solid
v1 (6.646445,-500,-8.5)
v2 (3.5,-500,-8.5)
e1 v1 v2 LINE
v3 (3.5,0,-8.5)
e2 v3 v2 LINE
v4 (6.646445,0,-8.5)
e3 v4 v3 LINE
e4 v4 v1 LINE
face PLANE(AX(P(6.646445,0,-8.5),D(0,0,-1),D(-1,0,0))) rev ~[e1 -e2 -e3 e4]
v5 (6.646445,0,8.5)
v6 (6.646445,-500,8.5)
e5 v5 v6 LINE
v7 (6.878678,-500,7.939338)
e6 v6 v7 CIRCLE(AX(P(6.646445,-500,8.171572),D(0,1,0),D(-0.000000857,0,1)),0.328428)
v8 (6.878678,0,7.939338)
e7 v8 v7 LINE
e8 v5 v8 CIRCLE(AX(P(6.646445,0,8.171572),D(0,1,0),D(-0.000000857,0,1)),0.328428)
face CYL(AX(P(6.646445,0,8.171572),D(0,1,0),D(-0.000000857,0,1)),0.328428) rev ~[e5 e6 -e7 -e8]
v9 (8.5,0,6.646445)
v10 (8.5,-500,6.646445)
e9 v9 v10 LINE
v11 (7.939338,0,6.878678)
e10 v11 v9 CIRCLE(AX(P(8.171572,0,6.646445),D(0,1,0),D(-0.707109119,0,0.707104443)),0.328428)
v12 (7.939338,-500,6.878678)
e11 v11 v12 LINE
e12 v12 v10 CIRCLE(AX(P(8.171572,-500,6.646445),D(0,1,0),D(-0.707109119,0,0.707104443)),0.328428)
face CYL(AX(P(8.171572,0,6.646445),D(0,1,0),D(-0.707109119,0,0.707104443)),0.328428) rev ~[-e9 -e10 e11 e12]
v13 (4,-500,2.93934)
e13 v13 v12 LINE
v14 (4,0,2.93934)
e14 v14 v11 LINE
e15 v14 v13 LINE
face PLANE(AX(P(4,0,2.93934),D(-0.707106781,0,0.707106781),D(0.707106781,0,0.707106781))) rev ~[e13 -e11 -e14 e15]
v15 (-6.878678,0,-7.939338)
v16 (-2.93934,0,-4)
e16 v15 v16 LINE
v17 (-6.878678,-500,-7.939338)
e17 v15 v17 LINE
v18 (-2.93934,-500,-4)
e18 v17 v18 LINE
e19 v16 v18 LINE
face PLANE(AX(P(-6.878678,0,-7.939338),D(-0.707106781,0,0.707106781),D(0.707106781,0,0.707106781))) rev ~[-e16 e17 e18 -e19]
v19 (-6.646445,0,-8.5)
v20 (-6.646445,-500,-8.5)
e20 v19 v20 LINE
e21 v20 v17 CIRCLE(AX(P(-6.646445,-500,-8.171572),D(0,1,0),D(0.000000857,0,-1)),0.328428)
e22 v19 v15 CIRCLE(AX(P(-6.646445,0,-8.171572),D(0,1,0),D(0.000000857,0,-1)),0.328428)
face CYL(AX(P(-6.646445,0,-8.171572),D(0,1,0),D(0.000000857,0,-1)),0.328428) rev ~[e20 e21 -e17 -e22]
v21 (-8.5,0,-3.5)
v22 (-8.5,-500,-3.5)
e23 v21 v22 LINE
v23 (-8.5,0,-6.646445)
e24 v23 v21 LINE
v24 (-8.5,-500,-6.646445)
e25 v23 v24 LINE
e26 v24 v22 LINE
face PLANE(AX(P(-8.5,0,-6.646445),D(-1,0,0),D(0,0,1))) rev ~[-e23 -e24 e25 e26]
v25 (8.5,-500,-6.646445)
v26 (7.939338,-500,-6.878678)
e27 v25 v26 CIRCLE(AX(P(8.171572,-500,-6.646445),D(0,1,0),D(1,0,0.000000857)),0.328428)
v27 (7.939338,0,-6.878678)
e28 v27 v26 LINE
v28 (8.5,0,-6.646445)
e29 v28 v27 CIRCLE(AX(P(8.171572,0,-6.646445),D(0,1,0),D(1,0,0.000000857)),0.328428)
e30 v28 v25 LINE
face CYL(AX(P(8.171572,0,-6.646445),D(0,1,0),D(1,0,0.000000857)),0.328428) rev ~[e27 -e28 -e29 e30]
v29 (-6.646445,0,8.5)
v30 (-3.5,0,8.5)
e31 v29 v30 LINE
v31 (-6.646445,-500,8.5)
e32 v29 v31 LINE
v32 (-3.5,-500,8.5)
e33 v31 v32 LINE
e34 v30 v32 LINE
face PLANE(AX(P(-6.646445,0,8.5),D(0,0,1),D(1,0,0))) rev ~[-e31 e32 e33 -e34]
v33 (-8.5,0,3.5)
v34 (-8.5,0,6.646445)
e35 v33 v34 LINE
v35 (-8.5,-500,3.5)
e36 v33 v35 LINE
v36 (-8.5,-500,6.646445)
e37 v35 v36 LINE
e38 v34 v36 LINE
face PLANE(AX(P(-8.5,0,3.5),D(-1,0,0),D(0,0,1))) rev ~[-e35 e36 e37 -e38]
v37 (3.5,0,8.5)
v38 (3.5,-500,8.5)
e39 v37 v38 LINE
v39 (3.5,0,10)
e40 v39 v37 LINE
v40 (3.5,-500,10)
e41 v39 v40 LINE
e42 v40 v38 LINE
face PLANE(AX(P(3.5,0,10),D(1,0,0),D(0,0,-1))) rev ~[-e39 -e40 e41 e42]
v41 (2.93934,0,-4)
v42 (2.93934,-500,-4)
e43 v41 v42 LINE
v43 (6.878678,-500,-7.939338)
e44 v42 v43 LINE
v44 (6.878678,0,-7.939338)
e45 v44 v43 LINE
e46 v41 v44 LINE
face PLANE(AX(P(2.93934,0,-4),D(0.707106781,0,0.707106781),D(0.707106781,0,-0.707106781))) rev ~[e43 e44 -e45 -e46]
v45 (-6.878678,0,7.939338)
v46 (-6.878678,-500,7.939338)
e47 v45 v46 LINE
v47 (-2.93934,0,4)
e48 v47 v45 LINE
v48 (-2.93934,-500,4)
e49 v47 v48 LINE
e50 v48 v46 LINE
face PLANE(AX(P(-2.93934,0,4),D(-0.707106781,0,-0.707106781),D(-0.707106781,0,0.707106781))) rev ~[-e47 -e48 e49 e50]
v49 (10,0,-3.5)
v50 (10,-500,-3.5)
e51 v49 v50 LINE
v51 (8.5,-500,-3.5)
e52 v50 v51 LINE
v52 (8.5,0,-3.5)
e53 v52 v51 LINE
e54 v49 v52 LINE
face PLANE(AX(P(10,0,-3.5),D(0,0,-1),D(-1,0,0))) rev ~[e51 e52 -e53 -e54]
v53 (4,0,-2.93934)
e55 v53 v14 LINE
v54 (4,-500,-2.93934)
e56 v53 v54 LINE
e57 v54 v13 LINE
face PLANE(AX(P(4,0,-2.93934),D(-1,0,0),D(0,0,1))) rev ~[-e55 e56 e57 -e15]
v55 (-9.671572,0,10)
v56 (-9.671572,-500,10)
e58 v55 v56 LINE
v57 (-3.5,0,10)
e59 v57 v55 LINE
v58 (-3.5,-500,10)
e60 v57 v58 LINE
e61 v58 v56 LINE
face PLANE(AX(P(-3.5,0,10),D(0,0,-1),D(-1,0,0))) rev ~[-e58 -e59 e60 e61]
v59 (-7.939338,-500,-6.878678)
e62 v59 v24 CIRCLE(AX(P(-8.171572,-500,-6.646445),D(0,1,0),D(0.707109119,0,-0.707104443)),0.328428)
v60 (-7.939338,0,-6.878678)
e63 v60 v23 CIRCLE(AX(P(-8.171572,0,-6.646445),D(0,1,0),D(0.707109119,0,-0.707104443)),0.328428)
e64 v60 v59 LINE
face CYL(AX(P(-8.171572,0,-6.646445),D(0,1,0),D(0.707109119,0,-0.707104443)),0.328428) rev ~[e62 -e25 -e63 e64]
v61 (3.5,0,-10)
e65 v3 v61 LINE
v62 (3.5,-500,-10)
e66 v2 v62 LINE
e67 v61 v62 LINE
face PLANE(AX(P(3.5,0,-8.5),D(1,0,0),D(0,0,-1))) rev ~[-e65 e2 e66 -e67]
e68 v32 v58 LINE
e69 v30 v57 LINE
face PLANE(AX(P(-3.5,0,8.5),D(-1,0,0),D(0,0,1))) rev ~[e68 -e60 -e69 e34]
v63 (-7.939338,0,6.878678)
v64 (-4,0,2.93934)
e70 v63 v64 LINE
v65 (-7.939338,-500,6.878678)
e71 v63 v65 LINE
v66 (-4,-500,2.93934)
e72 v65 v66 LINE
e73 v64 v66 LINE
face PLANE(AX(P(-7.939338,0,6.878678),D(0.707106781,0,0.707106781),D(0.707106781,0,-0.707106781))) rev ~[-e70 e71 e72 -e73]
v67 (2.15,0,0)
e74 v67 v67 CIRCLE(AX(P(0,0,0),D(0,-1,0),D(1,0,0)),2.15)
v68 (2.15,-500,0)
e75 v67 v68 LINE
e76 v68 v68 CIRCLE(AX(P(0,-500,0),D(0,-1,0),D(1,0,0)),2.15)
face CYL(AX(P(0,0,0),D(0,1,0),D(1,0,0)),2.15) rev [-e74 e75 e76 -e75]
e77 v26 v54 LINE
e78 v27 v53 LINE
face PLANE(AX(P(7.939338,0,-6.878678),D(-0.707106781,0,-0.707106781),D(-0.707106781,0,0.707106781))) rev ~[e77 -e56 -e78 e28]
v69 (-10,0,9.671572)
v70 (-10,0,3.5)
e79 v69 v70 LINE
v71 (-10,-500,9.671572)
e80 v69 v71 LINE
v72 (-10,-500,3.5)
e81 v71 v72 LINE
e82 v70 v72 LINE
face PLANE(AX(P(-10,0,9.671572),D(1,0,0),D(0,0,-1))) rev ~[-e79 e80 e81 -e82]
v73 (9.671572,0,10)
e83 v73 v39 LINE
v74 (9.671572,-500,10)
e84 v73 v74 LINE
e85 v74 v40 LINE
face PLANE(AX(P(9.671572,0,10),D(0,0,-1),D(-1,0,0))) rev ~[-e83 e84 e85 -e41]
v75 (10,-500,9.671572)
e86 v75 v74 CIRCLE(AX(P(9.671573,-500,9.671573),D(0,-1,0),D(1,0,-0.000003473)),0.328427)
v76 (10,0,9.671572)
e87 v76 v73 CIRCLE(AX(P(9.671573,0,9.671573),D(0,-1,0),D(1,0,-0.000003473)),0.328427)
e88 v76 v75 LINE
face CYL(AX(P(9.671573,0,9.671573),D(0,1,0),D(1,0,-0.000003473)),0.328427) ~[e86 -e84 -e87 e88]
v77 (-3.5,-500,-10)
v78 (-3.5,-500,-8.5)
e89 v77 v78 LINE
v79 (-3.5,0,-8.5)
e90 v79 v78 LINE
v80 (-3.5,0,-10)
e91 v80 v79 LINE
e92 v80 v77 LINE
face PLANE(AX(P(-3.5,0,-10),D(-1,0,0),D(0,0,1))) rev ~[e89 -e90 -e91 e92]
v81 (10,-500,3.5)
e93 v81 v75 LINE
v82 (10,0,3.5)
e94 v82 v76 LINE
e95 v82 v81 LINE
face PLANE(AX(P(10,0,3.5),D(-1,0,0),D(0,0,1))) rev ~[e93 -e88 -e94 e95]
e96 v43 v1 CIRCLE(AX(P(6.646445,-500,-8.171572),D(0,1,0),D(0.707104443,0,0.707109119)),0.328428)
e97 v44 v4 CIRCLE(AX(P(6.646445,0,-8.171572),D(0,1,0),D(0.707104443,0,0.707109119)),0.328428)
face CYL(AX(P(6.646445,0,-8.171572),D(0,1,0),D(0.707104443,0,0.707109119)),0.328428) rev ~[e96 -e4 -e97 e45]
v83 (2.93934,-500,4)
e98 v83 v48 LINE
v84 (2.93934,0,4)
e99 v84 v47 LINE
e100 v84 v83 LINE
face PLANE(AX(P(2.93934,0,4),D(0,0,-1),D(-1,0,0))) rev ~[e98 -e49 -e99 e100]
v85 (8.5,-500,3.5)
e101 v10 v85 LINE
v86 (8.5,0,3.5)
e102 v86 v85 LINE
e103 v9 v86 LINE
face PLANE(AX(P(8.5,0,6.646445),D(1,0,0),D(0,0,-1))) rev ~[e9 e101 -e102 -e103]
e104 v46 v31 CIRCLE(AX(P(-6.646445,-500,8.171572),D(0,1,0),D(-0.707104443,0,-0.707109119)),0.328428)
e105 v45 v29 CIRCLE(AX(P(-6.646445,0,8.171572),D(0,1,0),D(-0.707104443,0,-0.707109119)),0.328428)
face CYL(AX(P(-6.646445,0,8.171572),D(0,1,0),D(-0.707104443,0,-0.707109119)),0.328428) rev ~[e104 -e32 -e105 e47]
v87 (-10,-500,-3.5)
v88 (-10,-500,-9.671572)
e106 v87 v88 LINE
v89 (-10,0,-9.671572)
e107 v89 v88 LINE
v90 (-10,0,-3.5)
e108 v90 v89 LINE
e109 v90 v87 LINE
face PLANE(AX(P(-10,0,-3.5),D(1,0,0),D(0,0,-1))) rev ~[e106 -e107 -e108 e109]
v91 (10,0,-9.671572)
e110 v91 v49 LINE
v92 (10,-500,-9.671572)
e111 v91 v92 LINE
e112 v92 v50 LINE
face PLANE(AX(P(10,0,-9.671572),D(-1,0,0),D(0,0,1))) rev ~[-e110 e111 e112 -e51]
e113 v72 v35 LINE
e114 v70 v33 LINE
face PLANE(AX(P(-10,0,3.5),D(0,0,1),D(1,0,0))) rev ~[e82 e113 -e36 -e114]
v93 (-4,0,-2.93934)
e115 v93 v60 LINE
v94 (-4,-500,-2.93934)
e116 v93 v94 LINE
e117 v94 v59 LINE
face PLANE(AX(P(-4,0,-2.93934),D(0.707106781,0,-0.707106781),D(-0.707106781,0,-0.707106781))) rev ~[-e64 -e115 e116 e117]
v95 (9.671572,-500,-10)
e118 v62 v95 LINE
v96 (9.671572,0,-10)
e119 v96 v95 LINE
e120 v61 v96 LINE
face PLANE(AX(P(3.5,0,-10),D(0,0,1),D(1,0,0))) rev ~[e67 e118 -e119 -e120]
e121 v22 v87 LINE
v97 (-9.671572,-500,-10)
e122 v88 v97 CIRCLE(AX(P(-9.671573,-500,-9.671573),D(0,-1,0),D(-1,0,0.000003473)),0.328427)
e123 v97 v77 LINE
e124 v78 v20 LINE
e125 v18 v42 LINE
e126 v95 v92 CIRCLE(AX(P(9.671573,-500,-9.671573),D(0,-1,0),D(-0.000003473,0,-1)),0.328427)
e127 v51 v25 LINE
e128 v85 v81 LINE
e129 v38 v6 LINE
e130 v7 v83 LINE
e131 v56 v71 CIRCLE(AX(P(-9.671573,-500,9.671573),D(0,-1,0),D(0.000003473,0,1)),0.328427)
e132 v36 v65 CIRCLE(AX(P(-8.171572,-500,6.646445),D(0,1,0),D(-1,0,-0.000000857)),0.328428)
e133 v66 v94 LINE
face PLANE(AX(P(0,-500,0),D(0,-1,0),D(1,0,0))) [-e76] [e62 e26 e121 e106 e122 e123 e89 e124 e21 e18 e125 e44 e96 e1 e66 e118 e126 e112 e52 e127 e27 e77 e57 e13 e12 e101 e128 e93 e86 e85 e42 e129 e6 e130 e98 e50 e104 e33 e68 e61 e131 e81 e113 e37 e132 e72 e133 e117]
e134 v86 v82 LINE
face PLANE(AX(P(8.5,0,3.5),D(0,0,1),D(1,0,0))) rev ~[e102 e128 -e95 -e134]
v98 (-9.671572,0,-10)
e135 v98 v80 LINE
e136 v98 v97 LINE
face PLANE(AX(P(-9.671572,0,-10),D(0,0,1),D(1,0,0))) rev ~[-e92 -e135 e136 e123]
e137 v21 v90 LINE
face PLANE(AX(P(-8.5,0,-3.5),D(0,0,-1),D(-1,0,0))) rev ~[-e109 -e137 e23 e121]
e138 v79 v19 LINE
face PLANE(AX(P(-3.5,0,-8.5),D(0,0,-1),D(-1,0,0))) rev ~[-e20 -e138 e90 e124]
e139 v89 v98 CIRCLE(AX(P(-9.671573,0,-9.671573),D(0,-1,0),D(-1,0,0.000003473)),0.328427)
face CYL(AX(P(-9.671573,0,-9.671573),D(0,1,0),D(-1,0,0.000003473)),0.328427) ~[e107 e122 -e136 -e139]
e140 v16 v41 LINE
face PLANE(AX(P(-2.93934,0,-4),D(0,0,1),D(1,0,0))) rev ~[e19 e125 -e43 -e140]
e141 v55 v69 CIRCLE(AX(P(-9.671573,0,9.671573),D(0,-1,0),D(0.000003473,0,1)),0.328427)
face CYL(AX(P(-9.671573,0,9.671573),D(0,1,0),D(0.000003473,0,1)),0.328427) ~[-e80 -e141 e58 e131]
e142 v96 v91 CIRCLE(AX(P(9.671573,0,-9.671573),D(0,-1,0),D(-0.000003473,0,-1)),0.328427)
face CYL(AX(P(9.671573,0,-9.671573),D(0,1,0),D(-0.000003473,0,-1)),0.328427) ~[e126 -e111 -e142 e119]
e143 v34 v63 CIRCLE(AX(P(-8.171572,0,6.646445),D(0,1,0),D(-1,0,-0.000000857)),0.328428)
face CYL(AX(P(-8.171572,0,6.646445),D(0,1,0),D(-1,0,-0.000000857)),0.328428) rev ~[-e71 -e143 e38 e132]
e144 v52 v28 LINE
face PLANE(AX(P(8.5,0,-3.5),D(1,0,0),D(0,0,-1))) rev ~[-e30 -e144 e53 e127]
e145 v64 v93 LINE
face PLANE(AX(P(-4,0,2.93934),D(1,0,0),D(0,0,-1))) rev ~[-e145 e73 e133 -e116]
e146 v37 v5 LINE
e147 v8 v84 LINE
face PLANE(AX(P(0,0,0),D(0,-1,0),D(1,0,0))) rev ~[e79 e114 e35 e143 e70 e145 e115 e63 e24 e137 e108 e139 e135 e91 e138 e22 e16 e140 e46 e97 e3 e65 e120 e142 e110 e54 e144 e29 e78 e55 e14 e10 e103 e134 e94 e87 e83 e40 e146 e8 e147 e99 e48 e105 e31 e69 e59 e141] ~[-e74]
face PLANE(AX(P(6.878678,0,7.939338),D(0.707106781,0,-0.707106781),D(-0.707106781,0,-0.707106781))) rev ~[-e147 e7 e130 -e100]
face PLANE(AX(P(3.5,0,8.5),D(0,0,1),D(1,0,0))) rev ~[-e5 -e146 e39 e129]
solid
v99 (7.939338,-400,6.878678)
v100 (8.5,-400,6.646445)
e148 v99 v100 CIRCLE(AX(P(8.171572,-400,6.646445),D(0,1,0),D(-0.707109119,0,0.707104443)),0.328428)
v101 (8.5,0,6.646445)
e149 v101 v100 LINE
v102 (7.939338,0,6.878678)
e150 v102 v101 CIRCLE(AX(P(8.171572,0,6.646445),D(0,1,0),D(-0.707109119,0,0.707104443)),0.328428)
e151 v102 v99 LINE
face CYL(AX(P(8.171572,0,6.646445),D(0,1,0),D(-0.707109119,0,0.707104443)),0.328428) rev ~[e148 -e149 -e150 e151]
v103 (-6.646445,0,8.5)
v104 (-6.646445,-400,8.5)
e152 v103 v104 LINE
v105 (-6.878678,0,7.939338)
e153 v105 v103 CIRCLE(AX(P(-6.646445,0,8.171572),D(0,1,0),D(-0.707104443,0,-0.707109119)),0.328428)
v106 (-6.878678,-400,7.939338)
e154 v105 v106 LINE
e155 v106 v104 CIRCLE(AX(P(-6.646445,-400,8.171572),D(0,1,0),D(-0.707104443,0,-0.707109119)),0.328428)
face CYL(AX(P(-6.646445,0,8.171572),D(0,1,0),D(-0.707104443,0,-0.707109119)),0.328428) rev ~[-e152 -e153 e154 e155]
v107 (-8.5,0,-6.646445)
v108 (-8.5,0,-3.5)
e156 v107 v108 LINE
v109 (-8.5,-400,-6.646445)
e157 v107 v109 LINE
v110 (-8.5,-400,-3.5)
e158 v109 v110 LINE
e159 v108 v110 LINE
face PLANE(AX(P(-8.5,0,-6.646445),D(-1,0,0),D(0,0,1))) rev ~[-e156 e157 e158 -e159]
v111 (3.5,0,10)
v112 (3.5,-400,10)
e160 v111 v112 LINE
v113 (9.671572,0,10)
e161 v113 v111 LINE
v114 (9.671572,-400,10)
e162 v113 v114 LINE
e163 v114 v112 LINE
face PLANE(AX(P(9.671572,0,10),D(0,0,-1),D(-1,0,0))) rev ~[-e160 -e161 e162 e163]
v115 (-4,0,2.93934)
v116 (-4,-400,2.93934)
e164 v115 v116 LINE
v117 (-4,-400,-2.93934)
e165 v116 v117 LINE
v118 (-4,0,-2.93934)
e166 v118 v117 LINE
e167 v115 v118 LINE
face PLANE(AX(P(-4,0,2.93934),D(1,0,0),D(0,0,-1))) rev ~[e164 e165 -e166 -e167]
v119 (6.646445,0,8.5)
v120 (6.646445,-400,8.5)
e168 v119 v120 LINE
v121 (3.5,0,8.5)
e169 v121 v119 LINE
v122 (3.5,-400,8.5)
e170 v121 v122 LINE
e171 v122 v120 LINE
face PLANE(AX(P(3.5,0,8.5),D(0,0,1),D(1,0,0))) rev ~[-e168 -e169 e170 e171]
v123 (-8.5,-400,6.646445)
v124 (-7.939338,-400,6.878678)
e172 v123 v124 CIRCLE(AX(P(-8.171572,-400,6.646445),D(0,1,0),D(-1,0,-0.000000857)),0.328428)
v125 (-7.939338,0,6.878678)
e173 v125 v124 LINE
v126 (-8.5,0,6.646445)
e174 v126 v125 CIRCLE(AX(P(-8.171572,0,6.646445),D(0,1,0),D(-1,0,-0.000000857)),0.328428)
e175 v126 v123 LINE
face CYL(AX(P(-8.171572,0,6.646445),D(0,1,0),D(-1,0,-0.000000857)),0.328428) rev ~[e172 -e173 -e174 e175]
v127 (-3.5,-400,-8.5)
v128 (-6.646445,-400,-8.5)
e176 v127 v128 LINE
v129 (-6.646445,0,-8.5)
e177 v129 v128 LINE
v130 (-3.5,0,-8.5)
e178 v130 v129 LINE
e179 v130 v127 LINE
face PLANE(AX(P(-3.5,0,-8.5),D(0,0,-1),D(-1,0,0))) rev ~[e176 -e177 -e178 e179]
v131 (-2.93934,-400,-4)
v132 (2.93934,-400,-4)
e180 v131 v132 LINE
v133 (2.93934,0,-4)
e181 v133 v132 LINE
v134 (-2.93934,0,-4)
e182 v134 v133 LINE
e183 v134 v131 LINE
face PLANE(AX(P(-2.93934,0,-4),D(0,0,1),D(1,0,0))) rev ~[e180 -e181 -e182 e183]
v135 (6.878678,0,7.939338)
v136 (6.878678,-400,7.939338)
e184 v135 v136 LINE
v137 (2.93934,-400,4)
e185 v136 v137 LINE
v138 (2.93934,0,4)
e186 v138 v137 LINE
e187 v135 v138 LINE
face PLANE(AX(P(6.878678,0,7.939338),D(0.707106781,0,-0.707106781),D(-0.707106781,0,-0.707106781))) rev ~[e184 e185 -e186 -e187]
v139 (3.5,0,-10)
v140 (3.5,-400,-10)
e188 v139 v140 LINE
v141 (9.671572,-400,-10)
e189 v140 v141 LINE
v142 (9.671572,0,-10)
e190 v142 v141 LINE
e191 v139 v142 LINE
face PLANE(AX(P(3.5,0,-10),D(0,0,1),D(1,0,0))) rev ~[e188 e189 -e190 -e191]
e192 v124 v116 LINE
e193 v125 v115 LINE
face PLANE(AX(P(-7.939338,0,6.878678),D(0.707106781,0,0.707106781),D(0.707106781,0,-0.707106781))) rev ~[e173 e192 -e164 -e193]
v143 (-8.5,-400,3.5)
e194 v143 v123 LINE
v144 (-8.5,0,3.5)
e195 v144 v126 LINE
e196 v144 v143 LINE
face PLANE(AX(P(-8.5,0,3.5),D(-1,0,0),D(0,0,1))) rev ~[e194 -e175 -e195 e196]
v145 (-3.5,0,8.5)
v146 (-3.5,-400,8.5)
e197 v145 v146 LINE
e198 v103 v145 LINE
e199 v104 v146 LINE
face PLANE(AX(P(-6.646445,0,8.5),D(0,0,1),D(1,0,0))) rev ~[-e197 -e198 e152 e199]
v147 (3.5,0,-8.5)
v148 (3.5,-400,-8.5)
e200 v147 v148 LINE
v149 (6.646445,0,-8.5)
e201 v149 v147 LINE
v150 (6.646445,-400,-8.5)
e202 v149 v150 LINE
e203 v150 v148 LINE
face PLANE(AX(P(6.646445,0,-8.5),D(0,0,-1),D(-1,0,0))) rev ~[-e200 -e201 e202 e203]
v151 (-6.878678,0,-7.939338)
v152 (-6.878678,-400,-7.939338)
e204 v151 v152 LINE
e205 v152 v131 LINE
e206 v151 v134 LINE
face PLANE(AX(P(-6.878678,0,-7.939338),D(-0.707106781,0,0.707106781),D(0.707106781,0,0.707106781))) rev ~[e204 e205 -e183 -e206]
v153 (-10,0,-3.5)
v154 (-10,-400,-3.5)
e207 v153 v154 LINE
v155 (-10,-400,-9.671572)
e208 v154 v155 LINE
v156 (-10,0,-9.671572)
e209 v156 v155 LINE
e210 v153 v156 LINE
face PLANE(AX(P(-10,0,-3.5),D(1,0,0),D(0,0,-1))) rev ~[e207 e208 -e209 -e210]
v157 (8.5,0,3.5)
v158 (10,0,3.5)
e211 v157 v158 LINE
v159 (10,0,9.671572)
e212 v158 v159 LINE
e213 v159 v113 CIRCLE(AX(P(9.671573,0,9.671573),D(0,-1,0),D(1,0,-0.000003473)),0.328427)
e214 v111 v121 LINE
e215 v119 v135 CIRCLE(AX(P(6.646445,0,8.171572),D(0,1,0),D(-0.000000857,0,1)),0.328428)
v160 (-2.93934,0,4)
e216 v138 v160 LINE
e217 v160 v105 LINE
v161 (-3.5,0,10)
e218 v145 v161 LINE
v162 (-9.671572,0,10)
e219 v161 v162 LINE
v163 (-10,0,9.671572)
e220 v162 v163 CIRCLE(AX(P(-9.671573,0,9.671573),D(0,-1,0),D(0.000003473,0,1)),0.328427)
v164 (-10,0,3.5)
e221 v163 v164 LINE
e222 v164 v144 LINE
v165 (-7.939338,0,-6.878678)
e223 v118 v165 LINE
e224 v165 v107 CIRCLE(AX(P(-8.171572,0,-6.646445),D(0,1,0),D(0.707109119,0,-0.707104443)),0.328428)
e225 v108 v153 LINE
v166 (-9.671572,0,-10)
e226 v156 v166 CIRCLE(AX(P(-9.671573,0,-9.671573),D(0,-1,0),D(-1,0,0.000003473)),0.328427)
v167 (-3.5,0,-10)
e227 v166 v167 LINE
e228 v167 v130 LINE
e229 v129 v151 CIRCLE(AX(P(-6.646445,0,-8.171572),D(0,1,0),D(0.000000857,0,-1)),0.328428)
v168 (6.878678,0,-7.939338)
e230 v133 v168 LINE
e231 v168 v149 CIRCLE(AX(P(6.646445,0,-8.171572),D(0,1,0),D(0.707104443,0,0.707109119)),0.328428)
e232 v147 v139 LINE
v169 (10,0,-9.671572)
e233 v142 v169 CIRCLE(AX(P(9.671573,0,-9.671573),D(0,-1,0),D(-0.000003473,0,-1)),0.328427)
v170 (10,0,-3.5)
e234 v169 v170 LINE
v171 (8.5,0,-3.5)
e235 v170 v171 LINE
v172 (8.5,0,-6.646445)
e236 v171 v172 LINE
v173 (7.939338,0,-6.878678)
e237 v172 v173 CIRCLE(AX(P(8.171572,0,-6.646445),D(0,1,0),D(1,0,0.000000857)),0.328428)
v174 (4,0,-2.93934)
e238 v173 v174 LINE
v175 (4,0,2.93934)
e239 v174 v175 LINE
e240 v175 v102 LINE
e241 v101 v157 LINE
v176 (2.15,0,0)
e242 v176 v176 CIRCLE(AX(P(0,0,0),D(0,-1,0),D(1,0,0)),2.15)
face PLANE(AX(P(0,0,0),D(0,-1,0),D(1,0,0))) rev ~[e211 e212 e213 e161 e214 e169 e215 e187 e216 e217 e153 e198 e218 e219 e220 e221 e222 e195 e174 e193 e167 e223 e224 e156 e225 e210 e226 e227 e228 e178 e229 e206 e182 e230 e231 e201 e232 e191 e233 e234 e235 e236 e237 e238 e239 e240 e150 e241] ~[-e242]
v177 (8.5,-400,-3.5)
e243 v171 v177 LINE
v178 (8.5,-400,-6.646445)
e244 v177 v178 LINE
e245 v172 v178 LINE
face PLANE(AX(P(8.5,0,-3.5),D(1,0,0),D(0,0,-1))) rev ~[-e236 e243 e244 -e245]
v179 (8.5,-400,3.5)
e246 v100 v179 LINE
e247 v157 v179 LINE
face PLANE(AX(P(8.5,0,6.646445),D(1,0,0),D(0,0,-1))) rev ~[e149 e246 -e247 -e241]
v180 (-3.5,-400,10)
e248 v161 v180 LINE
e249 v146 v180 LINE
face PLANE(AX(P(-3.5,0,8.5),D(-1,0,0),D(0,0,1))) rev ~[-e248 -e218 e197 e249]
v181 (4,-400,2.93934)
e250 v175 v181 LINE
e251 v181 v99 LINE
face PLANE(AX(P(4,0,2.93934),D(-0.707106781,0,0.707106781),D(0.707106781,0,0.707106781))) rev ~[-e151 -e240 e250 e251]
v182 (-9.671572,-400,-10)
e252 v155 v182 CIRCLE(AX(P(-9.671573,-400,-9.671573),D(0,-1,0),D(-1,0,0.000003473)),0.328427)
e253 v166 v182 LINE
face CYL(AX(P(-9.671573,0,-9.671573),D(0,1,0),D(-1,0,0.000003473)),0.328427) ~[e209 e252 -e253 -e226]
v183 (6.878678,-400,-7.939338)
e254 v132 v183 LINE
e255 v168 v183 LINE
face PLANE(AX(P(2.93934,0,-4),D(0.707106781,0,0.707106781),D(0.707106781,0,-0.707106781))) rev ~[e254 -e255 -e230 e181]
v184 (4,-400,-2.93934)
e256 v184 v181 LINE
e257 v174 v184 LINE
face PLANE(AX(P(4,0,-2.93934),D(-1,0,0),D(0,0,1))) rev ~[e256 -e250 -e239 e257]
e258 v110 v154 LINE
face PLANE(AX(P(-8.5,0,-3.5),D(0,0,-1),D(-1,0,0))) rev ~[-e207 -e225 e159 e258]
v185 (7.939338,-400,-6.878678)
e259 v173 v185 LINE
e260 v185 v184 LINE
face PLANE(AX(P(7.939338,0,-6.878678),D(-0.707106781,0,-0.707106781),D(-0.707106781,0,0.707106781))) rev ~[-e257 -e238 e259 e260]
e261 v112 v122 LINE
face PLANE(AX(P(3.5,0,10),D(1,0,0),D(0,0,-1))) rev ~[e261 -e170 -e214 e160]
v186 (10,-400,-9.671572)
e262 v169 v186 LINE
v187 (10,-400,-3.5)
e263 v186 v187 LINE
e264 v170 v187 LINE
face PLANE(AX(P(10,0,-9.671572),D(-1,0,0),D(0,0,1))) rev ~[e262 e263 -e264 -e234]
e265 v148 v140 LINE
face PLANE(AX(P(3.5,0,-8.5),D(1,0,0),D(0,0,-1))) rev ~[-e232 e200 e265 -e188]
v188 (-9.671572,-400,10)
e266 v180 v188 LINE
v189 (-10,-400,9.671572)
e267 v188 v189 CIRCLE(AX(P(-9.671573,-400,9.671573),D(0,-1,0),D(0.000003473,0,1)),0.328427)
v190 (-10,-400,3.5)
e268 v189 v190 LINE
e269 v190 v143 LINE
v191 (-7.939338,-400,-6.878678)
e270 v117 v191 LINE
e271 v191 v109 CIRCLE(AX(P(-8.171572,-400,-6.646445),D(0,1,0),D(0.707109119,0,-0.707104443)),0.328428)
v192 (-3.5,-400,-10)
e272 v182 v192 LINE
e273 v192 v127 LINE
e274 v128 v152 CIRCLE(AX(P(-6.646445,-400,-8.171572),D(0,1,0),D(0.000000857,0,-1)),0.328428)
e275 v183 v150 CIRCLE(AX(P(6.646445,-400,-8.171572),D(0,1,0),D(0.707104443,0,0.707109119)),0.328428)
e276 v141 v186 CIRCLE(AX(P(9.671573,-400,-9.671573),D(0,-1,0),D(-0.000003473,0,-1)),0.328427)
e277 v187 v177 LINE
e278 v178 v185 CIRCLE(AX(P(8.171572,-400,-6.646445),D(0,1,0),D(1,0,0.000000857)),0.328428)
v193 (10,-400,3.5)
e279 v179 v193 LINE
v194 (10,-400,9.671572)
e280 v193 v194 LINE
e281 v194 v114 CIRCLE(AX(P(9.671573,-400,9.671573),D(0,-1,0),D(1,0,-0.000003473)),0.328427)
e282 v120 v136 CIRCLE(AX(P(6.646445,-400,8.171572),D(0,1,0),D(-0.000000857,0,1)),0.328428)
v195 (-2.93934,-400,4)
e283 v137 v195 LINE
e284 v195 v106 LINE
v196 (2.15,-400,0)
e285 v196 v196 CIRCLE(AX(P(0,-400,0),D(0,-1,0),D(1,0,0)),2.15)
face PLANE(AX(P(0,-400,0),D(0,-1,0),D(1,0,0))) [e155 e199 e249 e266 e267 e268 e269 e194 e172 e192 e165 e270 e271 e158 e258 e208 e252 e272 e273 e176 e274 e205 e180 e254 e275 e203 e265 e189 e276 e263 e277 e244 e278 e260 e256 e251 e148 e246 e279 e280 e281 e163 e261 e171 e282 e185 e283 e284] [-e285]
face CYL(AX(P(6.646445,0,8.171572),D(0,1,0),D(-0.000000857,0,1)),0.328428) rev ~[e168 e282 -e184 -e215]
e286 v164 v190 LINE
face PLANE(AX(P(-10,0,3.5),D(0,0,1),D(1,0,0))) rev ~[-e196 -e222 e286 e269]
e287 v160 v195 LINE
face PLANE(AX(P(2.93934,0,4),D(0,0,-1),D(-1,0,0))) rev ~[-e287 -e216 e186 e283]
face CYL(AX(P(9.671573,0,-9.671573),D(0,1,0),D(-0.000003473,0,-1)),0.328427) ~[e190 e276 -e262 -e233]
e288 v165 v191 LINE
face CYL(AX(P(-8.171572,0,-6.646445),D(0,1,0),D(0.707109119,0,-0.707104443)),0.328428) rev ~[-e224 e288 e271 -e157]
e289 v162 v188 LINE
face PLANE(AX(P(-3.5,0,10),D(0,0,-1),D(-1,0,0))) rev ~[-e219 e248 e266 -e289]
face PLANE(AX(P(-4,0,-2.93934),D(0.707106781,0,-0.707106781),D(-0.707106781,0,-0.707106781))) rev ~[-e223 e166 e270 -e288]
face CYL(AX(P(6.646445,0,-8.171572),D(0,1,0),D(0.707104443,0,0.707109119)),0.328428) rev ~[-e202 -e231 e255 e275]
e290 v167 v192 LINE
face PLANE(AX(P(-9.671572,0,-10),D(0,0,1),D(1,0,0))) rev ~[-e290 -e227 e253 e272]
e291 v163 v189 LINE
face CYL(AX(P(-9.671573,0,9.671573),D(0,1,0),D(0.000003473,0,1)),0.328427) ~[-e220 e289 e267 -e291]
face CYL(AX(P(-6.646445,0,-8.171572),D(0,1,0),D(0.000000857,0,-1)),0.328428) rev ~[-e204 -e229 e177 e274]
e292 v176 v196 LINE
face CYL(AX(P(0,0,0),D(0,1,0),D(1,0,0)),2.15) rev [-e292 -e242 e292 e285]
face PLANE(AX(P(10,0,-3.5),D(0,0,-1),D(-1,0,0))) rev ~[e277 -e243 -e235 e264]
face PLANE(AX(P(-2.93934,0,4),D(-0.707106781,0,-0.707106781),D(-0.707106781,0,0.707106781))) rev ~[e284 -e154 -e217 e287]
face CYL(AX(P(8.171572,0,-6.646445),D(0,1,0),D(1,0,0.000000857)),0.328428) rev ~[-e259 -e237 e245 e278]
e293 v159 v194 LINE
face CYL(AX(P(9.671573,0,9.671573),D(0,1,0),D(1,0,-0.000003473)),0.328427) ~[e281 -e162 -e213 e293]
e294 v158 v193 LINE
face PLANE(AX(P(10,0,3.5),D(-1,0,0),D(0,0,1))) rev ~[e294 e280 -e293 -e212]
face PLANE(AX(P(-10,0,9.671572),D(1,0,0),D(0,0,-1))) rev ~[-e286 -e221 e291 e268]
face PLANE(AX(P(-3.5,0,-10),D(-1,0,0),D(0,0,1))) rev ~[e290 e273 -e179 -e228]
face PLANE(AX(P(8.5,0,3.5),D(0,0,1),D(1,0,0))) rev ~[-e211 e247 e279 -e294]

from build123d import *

# Parameters (mm, degrees)
F0_R     = 2.15
F1_DEPTH = 400
F2_DEPTH = 500


with BuildPart() as f1:
    # F0 (on Front) → F1 (new body)
    with BuildSketch(Plane.XZ):
        Polygon((4, 2.93934), (4, 4), (2.93934, 4), (-2.93934, 4), (-4, 4), (-4, 2.93934), (-4, -2.93934), (-4, -4), (-2.93934, -4), (2.93934, -4), (4, -4), (4, -2.93934), align=None)
        Circle(F0_R, mode=Mode.SUBTRACT)
        with BuildLine():
            Line((2.93934, 4), (4, 4))
            Line((4, 4), (4, 2.93934))
            Line((4, 2.93934), (7.939338, 6.878678))
            ThreePointArc((7.939338, 6.878678), (8.297256, 6.949873), (8.5, 6.646445))
            Line((8.5, 6.646445), (8.5, 3.5))
            Line((8.5, 3.5), (10, 3.5))
            Line((10, 3.5), (10, 9.671572))
            ThreePointArc((10, 9.671572), (9.903806, 9.903806), (9.671572, 10))
            Line((9.671572, 10), (3.5, 10))
            Line((3.5, 10), (3.5, 8.5))
            Line((3.5, 8.5), (6.646445, 8.5))
            ThreePointArc((6.646445, 8.5), (6.949873, 8.297256), (6.878678, 7.939338))
            Line((6.878678, 7.939338), (2.93934, 4))
        make_face()
        with BuildLine():
            Line((-4, 4), (-2.93934, 4))
            Line((-2.93934, 4), (-6.878678, 7.939338))
            ThreePointArc((-6.878678, 7.939338), (-6.949873, 8.297256), (-6.646445, 8.5))
            Line((-6.646445, 8.5), (-3.5, 8.5))
            Line((-3.5, 8.5), (-3.5, 10))
            Line((-3.5, 10), (-9.671572, 10))
            ThreePointArc((-9.671572, 10), (-9.903806, 9.903806), (-10, 9.671572))
            Line((-10, 9.671572), (-10, 3.5))
            Line((-10, 3.5), (-8.5, 3.5))
            Line((-8.5, 3.5), (-8.5, 6.646445))
            ThreePointArc((-8.5, 6.646445), (-8.297256, 6.949873), (-7.939338, 6.878678))
            Line((-7.939338, 6.878678), (-4, 2.93934))
            Line((-4, 2.93934), (-4, 4))
        make_face()
        with BuildLine():
            Line((7.939338, -6.878678), (4, -2.93934))
            Line((4, -2.93934), (4, -4))
            Line((4, -4), (2.93934, -4))
            Line((2.93934, -4), (6.878678, -7.939338))
            ThreePointArc((6.878678, -7.939338), (6.949873, -8.297256), (6.646445, -8.5))
            Line((6.646445, -8.5), (3.5, -8.5))
            Line((3.5, -8.5), (3.5, -10))
            Line((3.5, -10), (9.671572, -10))
            ThreePointArc((9.671572, -10), (9.903806, -9.903806), (10, -9.671572))
            Line((10, -9.671572), (10, -3.5))
            Line((10, -3.5), (8.5, -3.5))
            Line((8.5, -3.5), (8.5, -6.646445))
            ThreePointArc((8.5, -6.646445), (8.297256, -6.949873), (7.939338, -6.878678))
        make_face()
        with BuildLine():
            Line((-4, -4), (-4, -2.93934))
            Line((-4, -2.93934), (-7.939338, -6.878678))
            ThreePointArc((-7.939338, -6.878678), (-8.297256, -6.949873), (-8.5, -6.646445))
            Line((-8.5, -6.646445), (-8.5, -3.5))
            Line((-8.5, -3.5), (-10, -3.5))
            Line((-10, -3.5), (-10, -9.671572))
            ThreePointArc((-10, -9.671572), (-9.903806, -9.903806), (-9.671572, -10))
            Line((-9.671572, -10), (-3.5, -10))
            Line((-3.5, -10), (-3.5, -8.5))
            Line((-3.5, -8.5), (-6.646445, -8.5))
            ThreePointArc((-6.646445, -8.5), (-6.949873, -8.297256), (-6.878678, -7.939338))
            Line((-6.878678, -7.939338), (-2.93934, -4))
            Line((-2.93934, -4), (-4, -4))
        make_face()
    extrude(amount=F1_DEPTH)


with BuildPart() as f2:
    # F0 (on Front) → F2 (new body)
    with BuildSketch(Plane.XZ):
        Polygon((4, 2.93934), (4, 4), (2.93934, 4), (-2.93934, 4), (-4, 4), (-4, 2.93934), (-4, -2.93934), (-4, -4), (-2.93934, -4), (2.93934, -4), (4, -4), (4, -2.93934), align=None)
        Circle(F0_R, mode=Mode.SUBTRACT)
        with BuildLine():
            Line((2.93934, 4), (4, 4))
            Line((4, 4), (4, 2.93934))
            Line((4, 2.93934), (7.939338, 6.878678))
            ThreePointArc((7.939338, 6.878678), (8.297256, 6.949873), (8.5, 6.646445))
            Line((8.5, 6.646445), (8.5, 3.5))
            Line((8.5, 3.5), (10, 3.5))
            Line((10, 3.5), (10, 9.671572))
            ThreePointArc((10, 9.671572), (9.903806, 9.903806), (9.671572, 10))
            Line((9.671572, 10), (3.5, 10))
            Line((3.5, 10), (3.5, 8.5))
            Line((3.5, 8.5), (6.646445, 8.5))
            ThreePointArc((6.646445, 8.5), (6.949873, 8.297256), (6.878678, 7.939338))
            Line((6.878678, 7.939338), (2.93934, 4))
        make_face()
        with BuildLine():
            Line((-4, 4), (-2.93934, 4))
            Line((-2.93934, 4), (-6.878678, 7.939338))
            ThreePointArc((-6.878678, 7.939338), (-6.949873, 8.297256), (-6.646445, 8.5))
            Line((-6.646445, 8.5), (-3.5, 8.5))
            Line((-3.5, 8.5), (-3.5, 10))
            Line((-3.5, 10), (-9.671572, 10))
            ThreePointArc((-9.671572, 10), (-9.903806, 9.903806), (-10, 9.671572))
            Line((-10, 9.671572), (-10, 3.5))
            Line((-10, 3.5), (-8.5, 3.5))
            Line((-8.5, 3.5), (-8.5, 6.646445))
            ThreePointArc((-8.5, 6.646445), (-8.297256, 6.949873), (-7.939338, 6.878678))
            Line((-7.939338, 6.878678), (-4, 2.93934))
            Line((-4, 2.93934), (-4, 4))
        make_face()
        with BuildLine():
            Line((7.939338, -6.878678), (4, -2.93934))
            Line((4, -2.93934), (4, -4))
            Line((4, -4), (2.93934, -4))
            Line((2.93934, -4), (6.878678, -7.939338))
            ThreePointArc((6.878678, -7.939338), (6.949873, -8.297256), (6.646445, -8.5))
            Line((6.646445, -8.5), (3.5, -8.5))
            Line((3.5, -8.5), (3.5, -10))
            Line((3.5, -10), (9.671572, -10))
            ThreePointArc((9.671572, -10), (9.903806, -9.903806), (10, -9.671572))
            Line((10, -9.671572), (10, -3.5))
            Line((10, -3.5), (8.5, -3.5))
            Line((8.5, -3.5), (8.5, -6.646445))
            ThreePointArc((8.5, -6.646445), (8.297256, -6.949873), (7.939338, -6.878678))
        make_face()
        with BuildLine():
            Line((-4, -4), (-4, -2.93934))
            Line((-4, -2.93934), (-7.939338, -6.878678))
            ThreePointArc((-7.939338, -6.878678), (-8.297256, -6.949873), (-8.5, -6.646445))
            Line((-8.5, -6.646445), (-8.5, -3.5))
            Line((-8.5, -3.5), (-10, -3.5))
            Line((-10, -3.5), (-10, -9.671572))
            ThreePointArc((-10, -9.671572), (-9.903806, -9.903806), (-9.671572, -10))
            Line((-9.671572, -10), (-3.5, -10))
            Line((-3.5, -10), (-3.5, -8.5))
            Line((-3.5, -8.5), (-6.646445, -8.5))
            ThreePointArc((-6.646445, -8.5), (-6.949873, -8.297256), (-6.878678, -7.939338))
            Line((-6.878678, -7.939338), (-2.93934, -4))
            Line((-2.93934, -4), (-4, -4))
        make_face()
    extrude(amount=F2_DEPTH)


solid = Compound([f1.part, f2.part])
